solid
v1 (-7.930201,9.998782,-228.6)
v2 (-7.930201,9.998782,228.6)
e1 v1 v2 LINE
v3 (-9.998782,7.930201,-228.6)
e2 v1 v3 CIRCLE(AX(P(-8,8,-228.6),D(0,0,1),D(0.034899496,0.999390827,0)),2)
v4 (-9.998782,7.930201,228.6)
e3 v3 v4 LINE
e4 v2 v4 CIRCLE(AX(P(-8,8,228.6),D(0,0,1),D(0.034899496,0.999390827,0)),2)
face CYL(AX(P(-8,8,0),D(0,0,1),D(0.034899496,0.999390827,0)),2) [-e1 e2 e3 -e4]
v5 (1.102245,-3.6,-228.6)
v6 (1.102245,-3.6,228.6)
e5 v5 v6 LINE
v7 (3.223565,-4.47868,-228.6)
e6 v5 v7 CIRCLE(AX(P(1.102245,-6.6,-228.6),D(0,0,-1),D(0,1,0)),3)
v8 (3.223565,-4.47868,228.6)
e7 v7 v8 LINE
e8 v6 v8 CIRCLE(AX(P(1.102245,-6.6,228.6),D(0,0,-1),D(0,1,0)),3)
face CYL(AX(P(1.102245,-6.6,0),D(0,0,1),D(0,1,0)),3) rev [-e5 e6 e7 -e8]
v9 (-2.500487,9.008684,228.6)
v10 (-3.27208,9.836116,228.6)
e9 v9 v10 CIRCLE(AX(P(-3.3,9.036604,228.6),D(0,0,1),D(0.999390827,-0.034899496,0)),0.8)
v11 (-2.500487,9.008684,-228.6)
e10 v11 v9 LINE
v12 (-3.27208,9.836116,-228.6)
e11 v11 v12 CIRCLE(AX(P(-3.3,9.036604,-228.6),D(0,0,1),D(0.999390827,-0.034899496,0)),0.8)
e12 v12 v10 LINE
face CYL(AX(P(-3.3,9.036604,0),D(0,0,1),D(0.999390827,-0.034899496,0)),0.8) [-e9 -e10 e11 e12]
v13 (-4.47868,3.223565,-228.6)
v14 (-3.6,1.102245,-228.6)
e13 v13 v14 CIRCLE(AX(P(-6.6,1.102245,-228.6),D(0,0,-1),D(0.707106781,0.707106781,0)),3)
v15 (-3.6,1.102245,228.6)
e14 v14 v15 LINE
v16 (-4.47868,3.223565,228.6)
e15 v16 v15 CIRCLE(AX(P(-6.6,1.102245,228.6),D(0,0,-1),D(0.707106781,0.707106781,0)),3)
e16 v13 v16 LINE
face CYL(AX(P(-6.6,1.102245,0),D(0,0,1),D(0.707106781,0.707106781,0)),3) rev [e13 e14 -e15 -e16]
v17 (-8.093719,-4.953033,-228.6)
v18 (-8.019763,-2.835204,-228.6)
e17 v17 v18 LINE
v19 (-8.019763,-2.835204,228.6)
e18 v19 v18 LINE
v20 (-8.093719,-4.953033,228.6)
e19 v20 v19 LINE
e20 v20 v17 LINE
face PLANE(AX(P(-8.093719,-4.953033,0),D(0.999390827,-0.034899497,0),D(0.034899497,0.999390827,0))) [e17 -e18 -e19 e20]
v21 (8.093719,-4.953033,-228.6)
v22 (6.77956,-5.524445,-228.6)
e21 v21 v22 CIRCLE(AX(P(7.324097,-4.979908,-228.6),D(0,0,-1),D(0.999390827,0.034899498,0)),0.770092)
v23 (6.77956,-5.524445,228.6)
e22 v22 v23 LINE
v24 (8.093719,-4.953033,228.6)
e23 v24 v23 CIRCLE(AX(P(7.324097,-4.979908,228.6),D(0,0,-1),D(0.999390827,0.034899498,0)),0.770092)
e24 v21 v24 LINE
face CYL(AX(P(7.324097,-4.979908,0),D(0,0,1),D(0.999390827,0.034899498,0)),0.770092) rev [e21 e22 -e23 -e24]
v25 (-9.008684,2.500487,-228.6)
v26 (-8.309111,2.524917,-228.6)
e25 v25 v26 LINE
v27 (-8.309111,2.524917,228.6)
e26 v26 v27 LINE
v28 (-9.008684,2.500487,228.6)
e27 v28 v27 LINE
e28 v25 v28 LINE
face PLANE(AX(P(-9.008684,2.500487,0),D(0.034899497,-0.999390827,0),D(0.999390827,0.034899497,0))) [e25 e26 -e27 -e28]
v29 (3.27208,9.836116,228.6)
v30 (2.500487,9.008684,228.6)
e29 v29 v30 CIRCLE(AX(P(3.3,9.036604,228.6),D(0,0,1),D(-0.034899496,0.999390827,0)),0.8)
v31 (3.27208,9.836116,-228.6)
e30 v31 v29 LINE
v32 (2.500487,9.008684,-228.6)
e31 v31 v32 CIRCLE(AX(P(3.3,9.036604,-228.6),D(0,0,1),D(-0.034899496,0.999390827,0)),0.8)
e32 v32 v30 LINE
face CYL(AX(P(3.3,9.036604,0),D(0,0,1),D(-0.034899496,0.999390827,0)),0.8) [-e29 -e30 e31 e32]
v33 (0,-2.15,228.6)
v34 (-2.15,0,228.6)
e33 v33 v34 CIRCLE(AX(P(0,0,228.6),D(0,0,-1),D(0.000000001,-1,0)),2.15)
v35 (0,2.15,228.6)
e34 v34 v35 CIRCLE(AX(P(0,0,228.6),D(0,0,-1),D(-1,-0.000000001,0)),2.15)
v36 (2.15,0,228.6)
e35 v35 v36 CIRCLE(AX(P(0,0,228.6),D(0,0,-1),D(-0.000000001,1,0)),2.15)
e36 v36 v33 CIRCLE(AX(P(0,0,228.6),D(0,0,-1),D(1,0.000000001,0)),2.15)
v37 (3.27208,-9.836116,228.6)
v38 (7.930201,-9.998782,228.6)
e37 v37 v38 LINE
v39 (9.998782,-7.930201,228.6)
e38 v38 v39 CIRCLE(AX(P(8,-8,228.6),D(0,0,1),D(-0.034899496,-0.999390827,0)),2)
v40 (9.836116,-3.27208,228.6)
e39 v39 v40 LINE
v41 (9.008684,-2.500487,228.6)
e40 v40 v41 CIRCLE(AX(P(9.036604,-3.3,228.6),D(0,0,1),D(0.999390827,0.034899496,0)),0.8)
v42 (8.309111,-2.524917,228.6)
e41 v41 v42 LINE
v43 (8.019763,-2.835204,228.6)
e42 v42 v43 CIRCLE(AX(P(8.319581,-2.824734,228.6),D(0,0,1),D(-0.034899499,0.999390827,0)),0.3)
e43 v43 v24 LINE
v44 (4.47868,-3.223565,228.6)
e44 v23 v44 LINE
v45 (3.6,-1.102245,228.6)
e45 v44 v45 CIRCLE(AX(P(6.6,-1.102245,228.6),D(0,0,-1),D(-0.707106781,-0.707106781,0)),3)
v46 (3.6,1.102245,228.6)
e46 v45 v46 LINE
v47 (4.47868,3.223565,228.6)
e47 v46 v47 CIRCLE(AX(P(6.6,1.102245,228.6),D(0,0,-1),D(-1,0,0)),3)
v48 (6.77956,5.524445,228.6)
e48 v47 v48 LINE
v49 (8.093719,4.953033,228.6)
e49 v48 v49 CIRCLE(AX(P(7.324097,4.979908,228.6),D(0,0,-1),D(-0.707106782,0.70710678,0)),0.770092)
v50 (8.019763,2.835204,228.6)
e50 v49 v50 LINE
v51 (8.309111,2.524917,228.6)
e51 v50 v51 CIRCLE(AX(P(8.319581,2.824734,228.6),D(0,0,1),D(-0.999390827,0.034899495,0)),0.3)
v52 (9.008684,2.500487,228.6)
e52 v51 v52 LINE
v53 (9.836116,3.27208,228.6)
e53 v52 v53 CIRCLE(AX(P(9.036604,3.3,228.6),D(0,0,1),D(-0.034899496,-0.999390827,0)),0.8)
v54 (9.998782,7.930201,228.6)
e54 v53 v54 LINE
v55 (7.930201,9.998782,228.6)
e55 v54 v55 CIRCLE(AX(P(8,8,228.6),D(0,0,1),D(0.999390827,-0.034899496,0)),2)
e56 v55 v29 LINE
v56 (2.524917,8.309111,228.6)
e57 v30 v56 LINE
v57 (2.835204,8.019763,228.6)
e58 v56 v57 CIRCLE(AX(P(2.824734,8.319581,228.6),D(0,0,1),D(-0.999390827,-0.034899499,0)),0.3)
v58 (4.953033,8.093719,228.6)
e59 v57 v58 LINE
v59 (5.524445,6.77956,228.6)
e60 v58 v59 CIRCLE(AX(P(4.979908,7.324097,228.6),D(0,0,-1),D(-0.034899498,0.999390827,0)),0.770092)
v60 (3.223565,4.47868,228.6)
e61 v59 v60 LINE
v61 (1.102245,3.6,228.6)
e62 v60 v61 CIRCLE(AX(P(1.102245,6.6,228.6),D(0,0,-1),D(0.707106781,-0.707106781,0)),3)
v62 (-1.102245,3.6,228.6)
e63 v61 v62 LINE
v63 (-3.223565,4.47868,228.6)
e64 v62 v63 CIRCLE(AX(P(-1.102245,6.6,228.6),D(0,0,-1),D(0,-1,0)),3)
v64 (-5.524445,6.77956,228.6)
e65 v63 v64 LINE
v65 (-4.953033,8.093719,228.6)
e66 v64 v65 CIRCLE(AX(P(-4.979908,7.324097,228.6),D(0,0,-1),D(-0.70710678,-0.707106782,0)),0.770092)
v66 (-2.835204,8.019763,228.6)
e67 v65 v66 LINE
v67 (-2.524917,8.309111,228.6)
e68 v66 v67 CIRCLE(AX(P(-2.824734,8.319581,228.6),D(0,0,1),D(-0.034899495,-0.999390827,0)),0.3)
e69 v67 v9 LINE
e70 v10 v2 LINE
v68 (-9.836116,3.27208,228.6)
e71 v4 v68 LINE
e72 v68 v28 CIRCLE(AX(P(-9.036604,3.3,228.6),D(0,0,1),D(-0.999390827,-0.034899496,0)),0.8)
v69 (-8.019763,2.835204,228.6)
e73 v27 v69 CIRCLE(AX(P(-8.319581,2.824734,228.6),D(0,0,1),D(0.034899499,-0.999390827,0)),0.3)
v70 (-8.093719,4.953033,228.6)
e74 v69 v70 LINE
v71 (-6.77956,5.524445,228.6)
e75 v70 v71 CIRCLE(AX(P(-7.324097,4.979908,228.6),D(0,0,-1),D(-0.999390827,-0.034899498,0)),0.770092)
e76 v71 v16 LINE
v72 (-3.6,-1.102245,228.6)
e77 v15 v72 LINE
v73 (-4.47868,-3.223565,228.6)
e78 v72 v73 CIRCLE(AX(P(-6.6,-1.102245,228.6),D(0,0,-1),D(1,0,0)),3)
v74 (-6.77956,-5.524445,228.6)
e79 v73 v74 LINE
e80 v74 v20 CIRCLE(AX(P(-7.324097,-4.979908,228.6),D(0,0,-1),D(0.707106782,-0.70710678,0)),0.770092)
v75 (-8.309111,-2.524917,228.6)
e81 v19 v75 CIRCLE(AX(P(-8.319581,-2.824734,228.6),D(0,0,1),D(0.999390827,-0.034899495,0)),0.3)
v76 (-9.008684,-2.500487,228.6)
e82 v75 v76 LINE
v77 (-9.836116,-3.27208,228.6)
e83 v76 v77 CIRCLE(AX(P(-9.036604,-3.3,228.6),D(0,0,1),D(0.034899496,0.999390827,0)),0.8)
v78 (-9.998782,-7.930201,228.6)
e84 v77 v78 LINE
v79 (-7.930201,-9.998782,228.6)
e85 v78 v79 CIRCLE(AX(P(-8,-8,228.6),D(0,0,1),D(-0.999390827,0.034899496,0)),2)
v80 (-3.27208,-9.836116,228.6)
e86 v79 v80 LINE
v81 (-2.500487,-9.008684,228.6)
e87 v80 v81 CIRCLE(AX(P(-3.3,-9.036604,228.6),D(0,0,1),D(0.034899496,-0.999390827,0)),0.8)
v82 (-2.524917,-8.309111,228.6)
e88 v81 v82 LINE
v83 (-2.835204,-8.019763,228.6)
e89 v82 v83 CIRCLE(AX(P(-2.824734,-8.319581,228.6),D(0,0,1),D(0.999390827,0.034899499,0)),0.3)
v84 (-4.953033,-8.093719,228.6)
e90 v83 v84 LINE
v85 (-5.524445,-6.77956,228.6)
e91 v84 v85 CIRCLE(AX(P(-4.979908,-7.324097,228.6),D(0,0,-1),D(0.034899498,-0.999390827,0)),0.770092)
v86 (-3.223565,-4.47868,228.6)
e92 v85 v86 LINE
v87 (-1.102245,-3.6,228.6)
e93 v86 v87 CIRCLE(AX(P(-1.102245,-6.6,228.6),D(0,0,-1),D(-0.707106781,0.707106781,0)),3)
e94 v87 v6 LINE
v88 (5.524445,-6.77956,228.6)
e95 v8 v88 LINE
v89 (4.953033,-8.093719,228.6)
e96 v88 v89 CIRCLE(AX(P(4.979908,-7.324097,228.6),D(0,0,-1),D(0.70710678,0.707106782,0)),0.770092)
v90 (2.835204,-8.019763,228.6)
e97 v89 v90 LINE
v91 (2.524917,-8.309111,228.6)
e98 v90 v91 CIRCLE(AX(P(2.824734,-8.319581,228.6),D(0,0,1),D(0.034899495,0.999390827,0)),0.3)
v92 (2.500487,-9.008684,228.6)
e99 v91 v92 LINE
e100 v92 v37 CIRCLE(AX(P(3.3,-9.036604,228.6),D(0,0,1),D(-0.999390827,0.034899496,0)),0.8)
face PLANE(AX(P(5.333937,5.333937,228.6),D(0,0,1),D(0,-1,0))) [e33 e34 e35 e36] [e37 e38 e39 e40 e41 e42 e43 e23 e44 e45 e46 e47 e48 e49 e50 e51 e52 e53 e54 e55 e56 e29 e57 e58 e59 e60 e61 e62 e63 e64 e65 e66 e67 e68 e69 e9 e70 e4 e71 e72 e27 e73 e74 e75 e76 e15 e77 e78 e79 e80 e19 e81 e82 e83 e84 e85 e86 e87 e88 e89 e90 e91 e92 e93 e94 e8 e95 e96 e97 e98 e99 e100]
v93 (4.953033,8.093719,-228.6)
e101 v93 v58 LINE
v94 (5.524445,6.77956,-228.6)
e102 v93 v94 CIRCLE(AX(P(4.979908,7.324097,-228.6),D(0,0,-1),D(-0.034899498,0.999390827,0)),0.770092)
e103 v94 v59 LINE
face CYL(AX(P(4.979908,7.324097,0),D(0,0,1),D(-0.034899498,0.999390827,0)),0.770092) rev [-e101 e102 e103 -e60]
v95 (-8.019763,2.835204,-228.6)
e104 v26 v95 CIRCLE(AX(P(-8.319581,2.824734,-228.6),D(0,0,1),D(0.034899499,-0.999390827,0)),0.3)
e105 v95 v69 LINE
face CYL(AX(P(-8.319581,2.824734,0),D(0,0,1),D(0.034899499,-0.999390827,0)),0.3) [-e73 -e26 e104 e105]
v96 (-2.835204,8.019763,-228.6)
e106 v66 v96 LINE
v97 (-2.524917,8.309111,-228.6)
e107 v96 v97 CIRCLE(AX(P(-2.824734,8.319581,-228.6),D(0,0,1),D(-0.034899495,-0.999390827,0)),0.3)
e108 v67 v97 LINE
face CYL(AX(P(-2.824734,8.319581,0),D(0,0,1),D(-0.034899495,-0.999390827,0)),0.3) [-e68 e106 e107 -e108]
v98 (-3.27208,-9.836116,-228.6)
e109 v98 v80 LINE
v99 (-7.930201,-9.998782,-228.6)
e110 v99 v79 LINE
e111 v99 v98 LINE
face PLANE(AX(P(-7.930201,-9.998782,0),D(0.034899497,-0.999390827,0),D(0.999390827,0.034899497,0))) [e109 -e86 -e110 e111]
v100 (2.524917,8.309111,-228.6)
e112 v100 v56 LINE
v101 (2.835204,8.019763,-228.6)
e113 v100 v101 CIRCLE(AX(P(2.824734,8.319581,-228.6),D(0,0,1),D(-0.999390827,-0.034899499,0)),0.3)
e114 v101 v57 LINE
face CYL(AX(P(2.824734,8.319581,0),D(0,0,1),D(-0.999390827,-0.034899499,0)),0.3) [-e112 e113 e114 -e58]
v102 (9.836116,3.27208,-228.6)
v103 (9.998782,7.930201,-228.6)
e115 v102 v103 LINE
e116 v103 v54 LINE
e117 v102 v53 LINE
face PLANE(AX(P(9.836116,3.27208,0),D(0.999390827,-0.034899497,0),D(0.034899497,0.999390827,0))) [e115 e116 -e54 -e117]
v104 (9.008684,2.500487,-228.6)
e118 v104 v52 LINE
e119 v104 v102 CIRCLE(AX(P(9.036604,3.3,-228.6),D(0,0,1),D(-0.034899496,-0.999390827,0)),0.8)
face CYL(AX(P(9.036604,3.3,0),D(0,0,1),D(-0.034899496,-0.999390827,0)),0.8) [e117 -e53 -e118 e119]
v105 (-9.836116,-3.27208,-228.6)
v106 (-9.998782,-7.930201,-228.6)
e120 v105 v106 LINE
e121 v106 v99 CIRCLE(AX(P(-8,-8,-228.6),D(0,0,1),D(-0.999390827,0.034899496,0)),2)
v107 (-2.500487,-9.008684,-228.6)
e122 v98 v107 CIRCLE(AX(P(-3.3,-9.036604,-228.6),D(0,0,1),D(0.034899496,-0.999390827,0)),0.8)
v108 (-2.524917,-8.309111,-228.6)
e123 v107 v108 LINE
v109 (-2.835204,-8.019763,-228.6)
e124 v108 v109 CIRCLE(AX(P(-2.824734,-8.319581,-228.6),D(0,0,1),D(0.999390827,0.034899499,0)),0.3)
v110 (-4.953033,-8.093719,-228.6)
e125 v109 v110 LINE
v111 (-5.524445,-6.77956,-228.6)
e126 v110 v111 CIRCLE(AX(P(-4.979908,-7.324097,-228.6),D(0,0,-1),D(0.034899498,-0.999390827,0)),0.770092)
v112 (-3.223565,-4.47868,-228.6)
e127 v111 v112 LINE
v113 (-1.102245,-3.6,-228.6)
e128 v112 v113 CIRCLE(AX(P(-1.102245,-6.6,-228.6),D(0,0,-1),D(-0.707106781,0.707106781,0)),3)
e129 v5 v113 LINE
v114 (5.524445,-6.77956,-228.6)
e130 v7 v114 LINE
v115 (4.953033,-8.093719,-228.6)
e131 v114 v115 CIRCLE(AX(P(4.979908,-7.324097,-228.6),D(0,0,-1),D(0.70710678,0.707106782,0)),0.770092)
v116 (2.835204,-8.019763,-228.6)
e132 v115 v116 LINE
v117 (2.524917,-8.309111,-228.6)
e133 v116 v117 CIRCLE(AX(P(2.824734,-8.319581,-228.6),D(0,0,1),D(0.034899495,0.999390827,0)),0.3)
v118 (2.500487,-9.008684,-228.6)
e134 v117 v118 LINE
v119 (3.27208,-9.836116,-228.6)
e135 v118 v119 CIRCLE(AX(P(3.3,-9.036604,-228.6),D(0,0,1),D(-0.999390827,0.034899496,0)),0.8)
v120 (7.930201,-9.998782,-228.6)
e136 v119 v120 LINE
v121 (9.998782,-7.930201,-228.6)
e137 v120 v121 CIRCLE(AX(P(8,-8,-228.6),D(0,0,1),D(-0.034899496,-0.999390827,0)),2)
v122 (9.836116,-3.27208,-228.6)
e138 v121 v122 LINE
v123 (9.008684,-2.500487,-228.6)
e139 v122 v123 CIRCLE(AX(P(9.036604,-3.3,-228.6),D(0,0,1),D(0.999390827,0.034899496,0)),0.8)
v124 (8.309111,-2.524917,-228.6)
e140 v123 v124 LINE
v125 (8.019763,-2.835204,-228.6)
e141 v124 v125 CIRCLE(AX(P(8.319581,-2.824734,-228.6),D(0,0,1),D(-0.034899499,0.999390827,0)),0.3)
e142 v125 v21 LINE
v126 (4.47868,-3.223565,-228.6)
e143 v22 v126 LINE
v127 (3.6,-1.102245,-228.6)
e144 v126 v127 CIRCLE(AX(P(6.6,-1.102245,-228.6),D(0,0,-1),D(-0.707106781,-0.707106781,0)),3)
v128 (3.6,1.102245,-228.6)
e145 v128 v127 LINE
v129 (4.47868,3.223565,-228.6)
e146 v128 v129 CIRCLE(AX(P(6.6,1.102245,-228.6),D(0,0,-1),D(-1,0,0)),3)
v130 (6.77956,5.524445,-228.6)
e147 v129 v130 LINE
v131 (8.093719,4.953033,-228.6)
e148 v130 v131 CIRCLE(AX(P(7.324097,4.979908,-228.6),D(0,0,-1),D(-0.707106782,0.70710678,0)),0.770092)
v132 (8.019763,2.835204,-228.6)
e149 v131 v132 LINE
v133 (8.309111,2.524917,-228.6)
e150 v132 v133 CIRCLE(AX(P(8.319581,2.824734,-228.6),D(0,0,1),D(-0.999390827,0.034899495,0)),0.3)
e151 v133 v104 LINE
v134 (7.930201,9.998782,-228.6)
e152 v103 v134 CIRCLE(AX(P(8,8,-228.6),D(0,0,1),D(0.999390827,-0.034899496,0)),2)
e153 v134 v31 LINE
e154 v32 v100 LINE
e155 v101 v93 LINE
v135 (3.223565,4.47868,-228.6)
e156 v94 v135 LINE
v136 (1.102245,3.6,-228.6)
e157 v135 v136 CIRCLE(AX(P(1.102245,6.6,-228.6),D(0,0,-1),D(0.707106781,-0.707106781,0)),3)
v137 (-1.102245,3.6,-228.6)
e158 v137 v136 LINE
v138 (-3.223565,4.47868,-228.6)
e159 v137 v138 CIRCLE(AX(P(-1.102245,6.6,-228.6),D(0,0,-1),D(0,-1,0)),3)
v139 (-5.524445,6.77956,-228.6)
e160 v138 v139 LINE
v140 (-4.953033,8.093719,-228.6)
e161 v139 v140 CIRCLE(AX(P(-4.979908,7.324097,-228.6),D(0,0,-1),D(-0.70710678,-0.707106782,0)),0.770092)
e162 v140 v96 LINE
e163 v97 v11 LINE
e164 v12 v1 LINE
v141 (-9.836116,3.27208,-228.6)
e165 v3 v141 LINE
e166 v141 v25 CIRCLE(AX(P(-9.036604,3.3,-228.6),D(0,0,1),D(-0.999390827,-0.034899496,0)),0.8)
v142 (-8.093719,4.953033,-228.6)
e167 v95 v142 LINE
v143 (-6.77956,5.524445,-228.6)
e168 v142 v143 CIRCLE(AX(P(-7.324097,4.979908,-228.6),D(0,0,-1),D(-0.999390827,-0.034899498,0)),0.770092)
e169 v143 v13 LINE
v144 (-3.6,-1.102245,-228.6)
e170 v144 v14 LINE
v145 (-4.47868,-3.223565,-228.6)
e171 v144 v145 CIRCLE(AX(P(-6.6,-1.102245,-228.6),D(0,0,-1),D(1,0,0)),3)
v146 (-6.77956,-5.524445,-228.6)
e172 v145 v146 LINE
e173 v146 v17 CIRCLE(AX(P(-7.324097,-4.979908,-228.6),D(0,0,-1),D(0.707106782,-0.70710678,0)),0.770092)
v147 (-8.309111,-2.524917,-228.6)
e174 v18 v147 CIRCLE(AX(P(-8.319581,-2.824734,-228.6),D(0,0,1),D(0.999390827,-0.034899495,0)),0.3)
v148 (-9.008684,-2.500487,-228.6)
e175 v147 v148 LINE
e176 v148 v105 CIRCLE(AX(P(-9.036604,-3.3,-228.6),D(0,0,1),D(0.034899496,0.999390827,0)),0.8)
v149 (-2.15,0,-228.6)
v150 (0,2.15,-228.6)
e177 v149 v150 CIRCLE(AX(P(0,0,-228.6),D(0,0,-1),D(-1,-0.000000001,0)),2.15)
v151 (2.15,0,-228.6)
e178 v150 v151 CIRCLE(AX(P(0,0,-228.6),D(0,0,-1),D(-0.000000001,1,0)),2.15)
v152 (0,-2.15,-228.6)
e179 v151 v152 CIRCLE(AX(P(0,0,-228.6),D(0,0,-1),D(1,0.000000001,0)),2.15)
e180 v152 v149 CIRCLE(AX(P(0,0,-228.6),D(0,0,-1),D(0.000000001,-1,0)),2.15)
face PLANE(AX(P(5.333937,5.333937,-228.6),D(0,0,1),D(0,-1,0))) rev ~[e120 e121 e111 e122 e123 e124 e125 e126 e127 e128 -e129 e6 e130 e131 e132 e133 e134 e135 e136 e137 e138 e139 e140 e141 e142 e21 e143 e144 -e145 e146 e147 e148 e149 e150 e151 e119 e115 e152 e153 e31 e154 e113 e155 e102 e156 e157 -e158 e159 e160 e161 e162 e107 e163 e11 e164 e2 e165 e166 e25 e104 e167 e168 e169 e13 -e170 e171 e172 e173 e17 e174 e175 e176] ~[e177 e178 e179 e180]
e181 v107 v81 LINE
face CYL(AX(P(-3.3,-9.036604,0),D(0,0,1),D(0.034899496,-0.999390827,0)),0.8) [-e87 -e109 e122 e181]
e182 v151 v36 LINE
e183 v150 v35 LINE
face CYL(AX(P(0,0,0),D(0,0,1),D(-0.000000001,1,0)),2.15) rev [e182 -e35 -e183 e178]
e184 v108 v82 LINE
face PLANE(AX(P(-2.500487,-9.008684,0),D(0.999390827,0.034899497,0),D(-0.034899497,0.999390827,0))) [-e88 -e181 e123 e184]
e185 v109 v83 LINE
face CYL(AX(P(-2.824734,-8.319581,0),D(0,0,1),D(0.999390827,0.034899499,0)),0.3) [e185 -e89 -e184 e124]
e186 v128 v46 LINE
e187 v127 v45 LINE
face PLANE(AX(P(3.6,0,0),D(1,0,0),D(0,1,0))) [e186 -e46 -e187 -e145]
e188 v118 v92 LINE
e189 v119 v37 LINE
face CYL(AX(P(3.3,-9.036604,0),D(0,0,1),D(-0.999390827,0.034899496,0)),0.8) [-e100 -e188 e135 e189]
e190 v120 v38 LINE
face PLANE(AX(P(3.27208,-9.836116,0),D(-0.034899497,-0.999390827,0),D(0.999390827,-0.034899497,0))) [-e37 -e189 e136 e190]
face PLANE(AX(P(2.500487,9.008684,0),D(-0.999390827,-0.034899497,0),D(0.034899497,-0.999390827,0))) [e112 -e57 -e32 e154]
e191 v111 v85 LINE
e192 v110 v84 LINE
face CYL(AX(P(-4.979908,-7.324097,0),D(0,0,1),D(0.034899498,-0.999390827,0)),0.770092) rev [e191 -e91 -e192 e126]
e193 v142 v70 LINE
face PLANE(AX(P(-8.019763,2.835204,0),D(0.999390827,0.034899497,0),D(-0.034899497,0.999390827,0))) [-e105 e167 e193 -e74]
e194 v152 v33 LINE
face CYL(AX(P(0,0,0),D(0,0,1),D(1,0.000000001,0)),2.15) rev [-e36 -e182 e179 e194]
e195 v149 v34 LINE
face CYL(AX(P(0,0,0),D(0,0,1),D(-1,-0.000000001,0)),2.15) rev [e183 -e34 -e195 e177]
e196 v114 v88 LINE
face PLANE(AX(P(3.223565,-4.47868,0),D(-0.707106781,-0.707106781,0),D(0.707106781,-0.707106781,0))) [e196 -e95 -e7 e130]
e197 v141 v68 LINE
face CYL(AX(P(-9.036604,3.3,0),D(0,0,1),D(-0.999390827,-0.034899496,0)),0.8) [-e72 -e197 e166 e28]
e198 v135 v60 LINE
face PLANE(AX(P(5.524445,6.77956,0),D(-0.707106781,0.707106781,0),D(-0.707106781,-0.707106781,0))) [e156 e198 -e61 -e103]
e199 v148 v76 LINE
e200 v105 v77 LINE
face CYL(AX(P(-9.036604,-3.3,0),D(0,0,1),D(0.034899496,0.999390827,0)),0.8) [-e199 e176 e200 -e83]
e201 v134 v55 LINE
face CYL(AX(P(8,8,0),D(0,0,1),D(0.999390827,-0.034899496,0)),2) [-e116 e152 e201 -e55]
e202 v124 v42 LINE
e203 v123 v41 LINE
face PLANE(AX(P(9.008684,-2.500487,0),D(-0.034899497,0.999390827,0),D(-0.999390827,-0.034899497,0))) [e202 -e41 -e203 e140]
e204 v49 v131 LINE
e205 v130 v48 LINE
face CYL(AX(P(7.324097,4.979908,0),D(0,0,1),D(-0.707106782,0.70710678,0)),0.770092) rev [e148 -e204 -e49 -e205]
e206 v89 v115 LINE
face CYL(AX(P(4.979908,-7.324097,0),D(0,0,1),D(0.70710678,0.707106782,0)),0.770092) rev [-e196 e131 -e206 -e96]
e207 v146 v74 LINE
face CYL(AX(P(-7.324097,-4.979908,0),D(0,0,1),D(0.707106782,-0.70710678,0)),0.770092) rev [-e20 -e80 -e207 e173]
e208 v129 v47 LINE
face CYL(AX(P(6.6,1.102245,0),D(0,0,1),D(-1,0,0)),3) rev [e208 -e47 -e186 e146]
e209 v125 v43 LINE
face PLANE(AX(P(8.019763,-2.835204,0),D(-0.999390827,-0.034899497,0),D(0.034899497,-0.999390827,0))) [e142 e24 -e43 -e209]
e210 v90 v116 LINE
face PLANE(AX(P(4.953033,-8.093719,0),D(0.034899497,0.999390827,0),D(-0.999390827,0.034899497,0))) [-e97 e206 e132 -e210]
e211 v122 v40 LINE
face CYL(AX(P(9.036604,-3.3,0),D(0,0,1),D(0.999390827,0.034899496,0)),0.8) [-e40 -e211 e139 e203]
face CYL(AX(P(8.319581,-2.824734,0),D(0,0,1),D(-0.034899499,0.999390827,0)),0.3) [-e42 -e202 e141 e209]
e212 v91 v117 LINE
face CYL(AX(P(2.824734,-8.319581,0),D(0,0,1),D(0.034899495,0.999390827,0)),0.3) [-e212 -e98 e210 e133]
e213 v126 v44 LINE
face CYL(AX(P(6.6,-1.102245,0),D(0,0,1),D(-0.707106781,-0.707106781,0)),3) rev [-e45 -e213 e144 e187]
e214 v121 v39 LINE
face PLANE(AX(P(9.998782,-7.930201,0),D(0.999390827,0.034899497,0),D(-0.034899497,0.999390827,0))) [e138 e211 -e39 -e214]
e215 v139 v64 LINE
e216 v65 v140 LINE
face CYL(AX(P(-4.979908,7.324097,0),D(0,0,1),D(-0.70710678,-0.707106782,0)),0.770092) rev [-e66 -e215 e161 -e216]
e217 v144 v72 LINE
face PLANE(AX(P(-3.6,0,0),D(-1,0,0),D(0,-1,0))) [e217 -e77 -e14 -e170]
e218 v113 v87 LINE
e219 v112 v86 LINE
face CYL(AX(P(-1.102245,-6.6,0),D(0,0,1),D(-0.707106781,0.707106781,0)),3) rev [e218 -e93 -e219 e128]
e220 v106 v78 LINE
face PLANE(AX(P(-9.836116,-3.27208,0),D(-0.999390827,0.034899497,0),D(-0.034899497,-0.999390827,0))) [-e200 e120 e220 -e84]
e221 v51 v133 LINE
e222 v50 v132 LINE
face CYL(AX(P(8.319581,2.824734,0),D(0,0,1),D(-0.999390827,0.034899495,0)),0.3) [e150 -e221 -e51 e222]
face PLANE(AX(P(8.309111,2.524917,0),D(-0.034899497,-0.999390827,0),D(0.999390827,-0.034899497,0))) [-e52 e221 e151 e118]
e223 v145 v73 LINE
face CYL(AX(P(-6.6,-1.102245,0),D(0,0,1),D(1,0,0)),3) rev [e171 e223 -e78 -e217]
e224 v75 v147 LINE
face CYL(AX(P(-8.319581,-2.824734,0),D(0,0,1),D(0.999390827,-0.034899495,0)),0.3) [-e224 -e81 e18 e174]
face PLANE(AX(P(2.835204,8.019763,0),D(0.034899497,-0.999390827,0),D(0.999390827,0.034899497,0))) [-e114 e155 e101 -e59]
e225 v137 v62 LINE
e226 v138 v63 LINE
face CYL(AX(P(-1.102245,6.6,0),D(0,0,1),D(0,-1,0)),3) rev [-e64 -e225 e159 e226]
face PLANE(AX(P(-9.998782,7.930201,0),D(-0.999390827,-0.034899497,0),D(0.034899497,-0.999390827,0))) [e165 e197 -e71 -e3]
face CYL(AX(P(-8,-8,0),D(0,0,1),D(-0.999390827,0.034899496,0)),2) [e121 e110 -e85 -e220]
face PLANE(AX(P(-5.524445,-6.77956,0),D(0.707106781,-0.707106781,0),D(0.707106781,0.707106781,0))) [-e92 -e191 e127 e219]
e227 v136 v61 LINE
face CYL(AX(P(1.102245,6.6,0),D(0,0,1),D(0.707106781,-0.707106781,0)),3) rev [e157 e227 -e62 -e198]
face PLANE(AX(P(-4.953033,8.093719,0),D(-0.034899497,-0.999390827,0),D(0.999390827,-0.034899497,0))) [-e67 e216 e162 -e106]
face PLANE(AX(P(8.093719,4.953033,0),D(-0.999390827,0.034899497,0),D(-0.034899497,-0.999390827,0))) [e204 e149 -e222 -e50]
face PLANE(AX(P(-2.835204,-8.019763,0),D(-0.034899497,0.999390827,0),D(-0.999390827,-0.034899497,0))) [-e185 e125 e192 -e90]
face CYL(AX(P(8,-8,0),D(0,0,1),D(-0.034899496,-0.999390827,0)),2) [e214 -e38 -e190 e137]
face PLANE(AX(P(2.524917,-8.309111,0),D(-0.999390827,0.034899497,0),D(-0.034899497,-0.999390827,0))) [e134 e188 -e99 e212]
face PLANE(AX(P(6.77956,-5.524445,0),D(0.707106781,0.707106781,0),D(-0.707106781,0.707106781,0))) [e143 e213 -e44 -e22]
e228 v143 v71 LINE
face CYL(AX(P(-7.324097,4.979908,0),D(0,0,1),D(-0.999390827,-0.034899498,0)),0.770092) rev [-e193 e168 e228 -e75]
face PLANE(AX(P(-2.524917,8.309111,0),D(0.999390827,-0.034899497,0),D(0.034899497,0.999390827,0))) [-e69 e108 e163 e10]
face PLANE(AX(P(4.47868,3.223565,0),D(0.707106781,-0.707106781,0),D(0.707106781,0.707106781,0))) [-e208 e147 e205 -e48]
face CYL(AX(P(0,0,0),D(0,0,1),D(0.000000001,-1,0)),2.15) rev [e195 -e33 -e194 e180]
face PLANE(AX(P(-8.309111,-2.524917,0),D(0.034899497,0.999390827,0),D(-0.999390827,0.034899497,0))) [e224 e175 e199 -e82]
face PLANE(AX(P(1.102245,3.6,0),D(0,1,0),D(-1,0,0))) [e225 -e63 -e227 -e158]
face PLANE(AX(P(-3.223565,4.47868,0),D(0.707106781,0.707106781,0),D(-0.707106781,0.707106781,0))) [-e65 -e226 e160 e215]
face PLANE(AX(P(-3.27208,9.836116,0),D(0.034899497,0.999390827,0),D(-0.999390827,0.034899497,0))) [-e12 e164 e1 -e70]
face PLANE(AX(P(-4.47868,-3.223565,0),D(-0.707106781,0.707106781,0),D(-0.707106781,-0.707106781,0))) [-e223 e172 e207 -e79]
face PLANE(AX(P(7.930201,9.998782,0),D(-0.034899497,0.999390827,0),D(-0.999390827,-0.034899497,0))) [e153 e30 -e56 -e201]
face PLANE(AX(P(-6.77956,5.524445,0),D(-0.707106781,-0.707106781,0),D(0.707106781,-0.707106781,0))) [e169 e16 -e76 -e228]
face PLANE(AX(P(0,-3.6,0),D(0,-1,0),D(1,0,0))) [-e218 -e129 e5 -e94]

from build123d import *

# Parameters (mm, degrees)
BOSS_EXTRUDE1_DEPTH = 228.6
CIRPATTERN1_COUNT   = 4


with BuildPart() as part:
    # Sketch3 → Boss-Extrude1 (new body, symmetric)
    with BuildSketch(Plane.XY):
        with BuildLine():
            Line((-2.524916986, 8.30911066), (-2.500487338, 9.008684239))
            ThreePointArc((-2.500487338, 9.008684239), (-2.714917039, 9.582202525), (-3.272080403, 9.836116498))
            Line((-3.272080403, 9.836116498), (-7.930201007, 9.998781654))
            ThreePointArc((-7.930201007, 9.998781654), (-9.414213562, 9.414213562), (-9.998781654, 7.930201007))
            Line((-9.998781654, 7.930201007), (-9.836116498, 3.272080403))
            ThreePointArc((-9.836116498, 3.272080403), (-9.582202525, 2.714917039), (-9.008684239, 2.500487338))
            Line((-9.008684239, 2.500487338), (-8.30911066, 2.524916986))
            ThreePointArc((-8.30911066, 2.524916986), (-8.100174399, 2.620134726), (-8.019763261, 2.835204083))
            Line((-8.019763261, 2.835204083), (-8.093719461, 4.953032548))
            ThreePointArc((-8.093719461, 4.953032548), (-7.631170264, 5.686128657), (-6.779559917, 5.52444538))
            Line((-6.779559917, 5.52444538), (-4.478679656, 3.22356512))
            ThreePointArc((-4.478679656, 3.22356512), (-3.828361402, 2.250295073), (-3.6, 1.102244776))
            Line((-3.6, 1.102244776), (-3.6, 0))
            Line((-3.6, 0), (-2.15, 0))
            ThreePointArc((-2.15, 0), (-1.52027958, 1.52027958), (0, 2.15))
            Line((0, 2.15), (0, 3.6))
            Line((0, 3.6), (-1.102244776, 3.6))
            ThreePointArc((-1.102244776, 3.6), (-2.250295073, 3.828361402), (-3.22356512, 4.478679656))
            Line((-3.22356512, 4.478679656), (-5.52444538, 6.779559917))
            ThreePointArc((-5.52444538, 6.779559917), (-5.686128657, 7.631170264), (-4.953032548, 8.093719461))
            Line((-4.953032548, 8.093719461), (-2.835204083, 8.019763261))
            ThreePointArc((-2.835204083, 8.019763261), (-2.620134726, 8.100174399), (-2.524916986, 8.30911066))
        make_face()
    boss_extrude1 = extrude(amount=BOSS_EXTRUDE1_DEPTH, both=True)

    # CirPattern1: Boss-Extrude1 ×4 about axis
    cirpattern1_axis = Axis((0, 0, 0), (0, 0, 1))
    for i in range(1, CIRPATTERN1_COUNT):
        add(boss_extrude1.rotate(cirpattern1_axis, i * 360 / CIRPATTERN1_COUNT))


solid = part.part
